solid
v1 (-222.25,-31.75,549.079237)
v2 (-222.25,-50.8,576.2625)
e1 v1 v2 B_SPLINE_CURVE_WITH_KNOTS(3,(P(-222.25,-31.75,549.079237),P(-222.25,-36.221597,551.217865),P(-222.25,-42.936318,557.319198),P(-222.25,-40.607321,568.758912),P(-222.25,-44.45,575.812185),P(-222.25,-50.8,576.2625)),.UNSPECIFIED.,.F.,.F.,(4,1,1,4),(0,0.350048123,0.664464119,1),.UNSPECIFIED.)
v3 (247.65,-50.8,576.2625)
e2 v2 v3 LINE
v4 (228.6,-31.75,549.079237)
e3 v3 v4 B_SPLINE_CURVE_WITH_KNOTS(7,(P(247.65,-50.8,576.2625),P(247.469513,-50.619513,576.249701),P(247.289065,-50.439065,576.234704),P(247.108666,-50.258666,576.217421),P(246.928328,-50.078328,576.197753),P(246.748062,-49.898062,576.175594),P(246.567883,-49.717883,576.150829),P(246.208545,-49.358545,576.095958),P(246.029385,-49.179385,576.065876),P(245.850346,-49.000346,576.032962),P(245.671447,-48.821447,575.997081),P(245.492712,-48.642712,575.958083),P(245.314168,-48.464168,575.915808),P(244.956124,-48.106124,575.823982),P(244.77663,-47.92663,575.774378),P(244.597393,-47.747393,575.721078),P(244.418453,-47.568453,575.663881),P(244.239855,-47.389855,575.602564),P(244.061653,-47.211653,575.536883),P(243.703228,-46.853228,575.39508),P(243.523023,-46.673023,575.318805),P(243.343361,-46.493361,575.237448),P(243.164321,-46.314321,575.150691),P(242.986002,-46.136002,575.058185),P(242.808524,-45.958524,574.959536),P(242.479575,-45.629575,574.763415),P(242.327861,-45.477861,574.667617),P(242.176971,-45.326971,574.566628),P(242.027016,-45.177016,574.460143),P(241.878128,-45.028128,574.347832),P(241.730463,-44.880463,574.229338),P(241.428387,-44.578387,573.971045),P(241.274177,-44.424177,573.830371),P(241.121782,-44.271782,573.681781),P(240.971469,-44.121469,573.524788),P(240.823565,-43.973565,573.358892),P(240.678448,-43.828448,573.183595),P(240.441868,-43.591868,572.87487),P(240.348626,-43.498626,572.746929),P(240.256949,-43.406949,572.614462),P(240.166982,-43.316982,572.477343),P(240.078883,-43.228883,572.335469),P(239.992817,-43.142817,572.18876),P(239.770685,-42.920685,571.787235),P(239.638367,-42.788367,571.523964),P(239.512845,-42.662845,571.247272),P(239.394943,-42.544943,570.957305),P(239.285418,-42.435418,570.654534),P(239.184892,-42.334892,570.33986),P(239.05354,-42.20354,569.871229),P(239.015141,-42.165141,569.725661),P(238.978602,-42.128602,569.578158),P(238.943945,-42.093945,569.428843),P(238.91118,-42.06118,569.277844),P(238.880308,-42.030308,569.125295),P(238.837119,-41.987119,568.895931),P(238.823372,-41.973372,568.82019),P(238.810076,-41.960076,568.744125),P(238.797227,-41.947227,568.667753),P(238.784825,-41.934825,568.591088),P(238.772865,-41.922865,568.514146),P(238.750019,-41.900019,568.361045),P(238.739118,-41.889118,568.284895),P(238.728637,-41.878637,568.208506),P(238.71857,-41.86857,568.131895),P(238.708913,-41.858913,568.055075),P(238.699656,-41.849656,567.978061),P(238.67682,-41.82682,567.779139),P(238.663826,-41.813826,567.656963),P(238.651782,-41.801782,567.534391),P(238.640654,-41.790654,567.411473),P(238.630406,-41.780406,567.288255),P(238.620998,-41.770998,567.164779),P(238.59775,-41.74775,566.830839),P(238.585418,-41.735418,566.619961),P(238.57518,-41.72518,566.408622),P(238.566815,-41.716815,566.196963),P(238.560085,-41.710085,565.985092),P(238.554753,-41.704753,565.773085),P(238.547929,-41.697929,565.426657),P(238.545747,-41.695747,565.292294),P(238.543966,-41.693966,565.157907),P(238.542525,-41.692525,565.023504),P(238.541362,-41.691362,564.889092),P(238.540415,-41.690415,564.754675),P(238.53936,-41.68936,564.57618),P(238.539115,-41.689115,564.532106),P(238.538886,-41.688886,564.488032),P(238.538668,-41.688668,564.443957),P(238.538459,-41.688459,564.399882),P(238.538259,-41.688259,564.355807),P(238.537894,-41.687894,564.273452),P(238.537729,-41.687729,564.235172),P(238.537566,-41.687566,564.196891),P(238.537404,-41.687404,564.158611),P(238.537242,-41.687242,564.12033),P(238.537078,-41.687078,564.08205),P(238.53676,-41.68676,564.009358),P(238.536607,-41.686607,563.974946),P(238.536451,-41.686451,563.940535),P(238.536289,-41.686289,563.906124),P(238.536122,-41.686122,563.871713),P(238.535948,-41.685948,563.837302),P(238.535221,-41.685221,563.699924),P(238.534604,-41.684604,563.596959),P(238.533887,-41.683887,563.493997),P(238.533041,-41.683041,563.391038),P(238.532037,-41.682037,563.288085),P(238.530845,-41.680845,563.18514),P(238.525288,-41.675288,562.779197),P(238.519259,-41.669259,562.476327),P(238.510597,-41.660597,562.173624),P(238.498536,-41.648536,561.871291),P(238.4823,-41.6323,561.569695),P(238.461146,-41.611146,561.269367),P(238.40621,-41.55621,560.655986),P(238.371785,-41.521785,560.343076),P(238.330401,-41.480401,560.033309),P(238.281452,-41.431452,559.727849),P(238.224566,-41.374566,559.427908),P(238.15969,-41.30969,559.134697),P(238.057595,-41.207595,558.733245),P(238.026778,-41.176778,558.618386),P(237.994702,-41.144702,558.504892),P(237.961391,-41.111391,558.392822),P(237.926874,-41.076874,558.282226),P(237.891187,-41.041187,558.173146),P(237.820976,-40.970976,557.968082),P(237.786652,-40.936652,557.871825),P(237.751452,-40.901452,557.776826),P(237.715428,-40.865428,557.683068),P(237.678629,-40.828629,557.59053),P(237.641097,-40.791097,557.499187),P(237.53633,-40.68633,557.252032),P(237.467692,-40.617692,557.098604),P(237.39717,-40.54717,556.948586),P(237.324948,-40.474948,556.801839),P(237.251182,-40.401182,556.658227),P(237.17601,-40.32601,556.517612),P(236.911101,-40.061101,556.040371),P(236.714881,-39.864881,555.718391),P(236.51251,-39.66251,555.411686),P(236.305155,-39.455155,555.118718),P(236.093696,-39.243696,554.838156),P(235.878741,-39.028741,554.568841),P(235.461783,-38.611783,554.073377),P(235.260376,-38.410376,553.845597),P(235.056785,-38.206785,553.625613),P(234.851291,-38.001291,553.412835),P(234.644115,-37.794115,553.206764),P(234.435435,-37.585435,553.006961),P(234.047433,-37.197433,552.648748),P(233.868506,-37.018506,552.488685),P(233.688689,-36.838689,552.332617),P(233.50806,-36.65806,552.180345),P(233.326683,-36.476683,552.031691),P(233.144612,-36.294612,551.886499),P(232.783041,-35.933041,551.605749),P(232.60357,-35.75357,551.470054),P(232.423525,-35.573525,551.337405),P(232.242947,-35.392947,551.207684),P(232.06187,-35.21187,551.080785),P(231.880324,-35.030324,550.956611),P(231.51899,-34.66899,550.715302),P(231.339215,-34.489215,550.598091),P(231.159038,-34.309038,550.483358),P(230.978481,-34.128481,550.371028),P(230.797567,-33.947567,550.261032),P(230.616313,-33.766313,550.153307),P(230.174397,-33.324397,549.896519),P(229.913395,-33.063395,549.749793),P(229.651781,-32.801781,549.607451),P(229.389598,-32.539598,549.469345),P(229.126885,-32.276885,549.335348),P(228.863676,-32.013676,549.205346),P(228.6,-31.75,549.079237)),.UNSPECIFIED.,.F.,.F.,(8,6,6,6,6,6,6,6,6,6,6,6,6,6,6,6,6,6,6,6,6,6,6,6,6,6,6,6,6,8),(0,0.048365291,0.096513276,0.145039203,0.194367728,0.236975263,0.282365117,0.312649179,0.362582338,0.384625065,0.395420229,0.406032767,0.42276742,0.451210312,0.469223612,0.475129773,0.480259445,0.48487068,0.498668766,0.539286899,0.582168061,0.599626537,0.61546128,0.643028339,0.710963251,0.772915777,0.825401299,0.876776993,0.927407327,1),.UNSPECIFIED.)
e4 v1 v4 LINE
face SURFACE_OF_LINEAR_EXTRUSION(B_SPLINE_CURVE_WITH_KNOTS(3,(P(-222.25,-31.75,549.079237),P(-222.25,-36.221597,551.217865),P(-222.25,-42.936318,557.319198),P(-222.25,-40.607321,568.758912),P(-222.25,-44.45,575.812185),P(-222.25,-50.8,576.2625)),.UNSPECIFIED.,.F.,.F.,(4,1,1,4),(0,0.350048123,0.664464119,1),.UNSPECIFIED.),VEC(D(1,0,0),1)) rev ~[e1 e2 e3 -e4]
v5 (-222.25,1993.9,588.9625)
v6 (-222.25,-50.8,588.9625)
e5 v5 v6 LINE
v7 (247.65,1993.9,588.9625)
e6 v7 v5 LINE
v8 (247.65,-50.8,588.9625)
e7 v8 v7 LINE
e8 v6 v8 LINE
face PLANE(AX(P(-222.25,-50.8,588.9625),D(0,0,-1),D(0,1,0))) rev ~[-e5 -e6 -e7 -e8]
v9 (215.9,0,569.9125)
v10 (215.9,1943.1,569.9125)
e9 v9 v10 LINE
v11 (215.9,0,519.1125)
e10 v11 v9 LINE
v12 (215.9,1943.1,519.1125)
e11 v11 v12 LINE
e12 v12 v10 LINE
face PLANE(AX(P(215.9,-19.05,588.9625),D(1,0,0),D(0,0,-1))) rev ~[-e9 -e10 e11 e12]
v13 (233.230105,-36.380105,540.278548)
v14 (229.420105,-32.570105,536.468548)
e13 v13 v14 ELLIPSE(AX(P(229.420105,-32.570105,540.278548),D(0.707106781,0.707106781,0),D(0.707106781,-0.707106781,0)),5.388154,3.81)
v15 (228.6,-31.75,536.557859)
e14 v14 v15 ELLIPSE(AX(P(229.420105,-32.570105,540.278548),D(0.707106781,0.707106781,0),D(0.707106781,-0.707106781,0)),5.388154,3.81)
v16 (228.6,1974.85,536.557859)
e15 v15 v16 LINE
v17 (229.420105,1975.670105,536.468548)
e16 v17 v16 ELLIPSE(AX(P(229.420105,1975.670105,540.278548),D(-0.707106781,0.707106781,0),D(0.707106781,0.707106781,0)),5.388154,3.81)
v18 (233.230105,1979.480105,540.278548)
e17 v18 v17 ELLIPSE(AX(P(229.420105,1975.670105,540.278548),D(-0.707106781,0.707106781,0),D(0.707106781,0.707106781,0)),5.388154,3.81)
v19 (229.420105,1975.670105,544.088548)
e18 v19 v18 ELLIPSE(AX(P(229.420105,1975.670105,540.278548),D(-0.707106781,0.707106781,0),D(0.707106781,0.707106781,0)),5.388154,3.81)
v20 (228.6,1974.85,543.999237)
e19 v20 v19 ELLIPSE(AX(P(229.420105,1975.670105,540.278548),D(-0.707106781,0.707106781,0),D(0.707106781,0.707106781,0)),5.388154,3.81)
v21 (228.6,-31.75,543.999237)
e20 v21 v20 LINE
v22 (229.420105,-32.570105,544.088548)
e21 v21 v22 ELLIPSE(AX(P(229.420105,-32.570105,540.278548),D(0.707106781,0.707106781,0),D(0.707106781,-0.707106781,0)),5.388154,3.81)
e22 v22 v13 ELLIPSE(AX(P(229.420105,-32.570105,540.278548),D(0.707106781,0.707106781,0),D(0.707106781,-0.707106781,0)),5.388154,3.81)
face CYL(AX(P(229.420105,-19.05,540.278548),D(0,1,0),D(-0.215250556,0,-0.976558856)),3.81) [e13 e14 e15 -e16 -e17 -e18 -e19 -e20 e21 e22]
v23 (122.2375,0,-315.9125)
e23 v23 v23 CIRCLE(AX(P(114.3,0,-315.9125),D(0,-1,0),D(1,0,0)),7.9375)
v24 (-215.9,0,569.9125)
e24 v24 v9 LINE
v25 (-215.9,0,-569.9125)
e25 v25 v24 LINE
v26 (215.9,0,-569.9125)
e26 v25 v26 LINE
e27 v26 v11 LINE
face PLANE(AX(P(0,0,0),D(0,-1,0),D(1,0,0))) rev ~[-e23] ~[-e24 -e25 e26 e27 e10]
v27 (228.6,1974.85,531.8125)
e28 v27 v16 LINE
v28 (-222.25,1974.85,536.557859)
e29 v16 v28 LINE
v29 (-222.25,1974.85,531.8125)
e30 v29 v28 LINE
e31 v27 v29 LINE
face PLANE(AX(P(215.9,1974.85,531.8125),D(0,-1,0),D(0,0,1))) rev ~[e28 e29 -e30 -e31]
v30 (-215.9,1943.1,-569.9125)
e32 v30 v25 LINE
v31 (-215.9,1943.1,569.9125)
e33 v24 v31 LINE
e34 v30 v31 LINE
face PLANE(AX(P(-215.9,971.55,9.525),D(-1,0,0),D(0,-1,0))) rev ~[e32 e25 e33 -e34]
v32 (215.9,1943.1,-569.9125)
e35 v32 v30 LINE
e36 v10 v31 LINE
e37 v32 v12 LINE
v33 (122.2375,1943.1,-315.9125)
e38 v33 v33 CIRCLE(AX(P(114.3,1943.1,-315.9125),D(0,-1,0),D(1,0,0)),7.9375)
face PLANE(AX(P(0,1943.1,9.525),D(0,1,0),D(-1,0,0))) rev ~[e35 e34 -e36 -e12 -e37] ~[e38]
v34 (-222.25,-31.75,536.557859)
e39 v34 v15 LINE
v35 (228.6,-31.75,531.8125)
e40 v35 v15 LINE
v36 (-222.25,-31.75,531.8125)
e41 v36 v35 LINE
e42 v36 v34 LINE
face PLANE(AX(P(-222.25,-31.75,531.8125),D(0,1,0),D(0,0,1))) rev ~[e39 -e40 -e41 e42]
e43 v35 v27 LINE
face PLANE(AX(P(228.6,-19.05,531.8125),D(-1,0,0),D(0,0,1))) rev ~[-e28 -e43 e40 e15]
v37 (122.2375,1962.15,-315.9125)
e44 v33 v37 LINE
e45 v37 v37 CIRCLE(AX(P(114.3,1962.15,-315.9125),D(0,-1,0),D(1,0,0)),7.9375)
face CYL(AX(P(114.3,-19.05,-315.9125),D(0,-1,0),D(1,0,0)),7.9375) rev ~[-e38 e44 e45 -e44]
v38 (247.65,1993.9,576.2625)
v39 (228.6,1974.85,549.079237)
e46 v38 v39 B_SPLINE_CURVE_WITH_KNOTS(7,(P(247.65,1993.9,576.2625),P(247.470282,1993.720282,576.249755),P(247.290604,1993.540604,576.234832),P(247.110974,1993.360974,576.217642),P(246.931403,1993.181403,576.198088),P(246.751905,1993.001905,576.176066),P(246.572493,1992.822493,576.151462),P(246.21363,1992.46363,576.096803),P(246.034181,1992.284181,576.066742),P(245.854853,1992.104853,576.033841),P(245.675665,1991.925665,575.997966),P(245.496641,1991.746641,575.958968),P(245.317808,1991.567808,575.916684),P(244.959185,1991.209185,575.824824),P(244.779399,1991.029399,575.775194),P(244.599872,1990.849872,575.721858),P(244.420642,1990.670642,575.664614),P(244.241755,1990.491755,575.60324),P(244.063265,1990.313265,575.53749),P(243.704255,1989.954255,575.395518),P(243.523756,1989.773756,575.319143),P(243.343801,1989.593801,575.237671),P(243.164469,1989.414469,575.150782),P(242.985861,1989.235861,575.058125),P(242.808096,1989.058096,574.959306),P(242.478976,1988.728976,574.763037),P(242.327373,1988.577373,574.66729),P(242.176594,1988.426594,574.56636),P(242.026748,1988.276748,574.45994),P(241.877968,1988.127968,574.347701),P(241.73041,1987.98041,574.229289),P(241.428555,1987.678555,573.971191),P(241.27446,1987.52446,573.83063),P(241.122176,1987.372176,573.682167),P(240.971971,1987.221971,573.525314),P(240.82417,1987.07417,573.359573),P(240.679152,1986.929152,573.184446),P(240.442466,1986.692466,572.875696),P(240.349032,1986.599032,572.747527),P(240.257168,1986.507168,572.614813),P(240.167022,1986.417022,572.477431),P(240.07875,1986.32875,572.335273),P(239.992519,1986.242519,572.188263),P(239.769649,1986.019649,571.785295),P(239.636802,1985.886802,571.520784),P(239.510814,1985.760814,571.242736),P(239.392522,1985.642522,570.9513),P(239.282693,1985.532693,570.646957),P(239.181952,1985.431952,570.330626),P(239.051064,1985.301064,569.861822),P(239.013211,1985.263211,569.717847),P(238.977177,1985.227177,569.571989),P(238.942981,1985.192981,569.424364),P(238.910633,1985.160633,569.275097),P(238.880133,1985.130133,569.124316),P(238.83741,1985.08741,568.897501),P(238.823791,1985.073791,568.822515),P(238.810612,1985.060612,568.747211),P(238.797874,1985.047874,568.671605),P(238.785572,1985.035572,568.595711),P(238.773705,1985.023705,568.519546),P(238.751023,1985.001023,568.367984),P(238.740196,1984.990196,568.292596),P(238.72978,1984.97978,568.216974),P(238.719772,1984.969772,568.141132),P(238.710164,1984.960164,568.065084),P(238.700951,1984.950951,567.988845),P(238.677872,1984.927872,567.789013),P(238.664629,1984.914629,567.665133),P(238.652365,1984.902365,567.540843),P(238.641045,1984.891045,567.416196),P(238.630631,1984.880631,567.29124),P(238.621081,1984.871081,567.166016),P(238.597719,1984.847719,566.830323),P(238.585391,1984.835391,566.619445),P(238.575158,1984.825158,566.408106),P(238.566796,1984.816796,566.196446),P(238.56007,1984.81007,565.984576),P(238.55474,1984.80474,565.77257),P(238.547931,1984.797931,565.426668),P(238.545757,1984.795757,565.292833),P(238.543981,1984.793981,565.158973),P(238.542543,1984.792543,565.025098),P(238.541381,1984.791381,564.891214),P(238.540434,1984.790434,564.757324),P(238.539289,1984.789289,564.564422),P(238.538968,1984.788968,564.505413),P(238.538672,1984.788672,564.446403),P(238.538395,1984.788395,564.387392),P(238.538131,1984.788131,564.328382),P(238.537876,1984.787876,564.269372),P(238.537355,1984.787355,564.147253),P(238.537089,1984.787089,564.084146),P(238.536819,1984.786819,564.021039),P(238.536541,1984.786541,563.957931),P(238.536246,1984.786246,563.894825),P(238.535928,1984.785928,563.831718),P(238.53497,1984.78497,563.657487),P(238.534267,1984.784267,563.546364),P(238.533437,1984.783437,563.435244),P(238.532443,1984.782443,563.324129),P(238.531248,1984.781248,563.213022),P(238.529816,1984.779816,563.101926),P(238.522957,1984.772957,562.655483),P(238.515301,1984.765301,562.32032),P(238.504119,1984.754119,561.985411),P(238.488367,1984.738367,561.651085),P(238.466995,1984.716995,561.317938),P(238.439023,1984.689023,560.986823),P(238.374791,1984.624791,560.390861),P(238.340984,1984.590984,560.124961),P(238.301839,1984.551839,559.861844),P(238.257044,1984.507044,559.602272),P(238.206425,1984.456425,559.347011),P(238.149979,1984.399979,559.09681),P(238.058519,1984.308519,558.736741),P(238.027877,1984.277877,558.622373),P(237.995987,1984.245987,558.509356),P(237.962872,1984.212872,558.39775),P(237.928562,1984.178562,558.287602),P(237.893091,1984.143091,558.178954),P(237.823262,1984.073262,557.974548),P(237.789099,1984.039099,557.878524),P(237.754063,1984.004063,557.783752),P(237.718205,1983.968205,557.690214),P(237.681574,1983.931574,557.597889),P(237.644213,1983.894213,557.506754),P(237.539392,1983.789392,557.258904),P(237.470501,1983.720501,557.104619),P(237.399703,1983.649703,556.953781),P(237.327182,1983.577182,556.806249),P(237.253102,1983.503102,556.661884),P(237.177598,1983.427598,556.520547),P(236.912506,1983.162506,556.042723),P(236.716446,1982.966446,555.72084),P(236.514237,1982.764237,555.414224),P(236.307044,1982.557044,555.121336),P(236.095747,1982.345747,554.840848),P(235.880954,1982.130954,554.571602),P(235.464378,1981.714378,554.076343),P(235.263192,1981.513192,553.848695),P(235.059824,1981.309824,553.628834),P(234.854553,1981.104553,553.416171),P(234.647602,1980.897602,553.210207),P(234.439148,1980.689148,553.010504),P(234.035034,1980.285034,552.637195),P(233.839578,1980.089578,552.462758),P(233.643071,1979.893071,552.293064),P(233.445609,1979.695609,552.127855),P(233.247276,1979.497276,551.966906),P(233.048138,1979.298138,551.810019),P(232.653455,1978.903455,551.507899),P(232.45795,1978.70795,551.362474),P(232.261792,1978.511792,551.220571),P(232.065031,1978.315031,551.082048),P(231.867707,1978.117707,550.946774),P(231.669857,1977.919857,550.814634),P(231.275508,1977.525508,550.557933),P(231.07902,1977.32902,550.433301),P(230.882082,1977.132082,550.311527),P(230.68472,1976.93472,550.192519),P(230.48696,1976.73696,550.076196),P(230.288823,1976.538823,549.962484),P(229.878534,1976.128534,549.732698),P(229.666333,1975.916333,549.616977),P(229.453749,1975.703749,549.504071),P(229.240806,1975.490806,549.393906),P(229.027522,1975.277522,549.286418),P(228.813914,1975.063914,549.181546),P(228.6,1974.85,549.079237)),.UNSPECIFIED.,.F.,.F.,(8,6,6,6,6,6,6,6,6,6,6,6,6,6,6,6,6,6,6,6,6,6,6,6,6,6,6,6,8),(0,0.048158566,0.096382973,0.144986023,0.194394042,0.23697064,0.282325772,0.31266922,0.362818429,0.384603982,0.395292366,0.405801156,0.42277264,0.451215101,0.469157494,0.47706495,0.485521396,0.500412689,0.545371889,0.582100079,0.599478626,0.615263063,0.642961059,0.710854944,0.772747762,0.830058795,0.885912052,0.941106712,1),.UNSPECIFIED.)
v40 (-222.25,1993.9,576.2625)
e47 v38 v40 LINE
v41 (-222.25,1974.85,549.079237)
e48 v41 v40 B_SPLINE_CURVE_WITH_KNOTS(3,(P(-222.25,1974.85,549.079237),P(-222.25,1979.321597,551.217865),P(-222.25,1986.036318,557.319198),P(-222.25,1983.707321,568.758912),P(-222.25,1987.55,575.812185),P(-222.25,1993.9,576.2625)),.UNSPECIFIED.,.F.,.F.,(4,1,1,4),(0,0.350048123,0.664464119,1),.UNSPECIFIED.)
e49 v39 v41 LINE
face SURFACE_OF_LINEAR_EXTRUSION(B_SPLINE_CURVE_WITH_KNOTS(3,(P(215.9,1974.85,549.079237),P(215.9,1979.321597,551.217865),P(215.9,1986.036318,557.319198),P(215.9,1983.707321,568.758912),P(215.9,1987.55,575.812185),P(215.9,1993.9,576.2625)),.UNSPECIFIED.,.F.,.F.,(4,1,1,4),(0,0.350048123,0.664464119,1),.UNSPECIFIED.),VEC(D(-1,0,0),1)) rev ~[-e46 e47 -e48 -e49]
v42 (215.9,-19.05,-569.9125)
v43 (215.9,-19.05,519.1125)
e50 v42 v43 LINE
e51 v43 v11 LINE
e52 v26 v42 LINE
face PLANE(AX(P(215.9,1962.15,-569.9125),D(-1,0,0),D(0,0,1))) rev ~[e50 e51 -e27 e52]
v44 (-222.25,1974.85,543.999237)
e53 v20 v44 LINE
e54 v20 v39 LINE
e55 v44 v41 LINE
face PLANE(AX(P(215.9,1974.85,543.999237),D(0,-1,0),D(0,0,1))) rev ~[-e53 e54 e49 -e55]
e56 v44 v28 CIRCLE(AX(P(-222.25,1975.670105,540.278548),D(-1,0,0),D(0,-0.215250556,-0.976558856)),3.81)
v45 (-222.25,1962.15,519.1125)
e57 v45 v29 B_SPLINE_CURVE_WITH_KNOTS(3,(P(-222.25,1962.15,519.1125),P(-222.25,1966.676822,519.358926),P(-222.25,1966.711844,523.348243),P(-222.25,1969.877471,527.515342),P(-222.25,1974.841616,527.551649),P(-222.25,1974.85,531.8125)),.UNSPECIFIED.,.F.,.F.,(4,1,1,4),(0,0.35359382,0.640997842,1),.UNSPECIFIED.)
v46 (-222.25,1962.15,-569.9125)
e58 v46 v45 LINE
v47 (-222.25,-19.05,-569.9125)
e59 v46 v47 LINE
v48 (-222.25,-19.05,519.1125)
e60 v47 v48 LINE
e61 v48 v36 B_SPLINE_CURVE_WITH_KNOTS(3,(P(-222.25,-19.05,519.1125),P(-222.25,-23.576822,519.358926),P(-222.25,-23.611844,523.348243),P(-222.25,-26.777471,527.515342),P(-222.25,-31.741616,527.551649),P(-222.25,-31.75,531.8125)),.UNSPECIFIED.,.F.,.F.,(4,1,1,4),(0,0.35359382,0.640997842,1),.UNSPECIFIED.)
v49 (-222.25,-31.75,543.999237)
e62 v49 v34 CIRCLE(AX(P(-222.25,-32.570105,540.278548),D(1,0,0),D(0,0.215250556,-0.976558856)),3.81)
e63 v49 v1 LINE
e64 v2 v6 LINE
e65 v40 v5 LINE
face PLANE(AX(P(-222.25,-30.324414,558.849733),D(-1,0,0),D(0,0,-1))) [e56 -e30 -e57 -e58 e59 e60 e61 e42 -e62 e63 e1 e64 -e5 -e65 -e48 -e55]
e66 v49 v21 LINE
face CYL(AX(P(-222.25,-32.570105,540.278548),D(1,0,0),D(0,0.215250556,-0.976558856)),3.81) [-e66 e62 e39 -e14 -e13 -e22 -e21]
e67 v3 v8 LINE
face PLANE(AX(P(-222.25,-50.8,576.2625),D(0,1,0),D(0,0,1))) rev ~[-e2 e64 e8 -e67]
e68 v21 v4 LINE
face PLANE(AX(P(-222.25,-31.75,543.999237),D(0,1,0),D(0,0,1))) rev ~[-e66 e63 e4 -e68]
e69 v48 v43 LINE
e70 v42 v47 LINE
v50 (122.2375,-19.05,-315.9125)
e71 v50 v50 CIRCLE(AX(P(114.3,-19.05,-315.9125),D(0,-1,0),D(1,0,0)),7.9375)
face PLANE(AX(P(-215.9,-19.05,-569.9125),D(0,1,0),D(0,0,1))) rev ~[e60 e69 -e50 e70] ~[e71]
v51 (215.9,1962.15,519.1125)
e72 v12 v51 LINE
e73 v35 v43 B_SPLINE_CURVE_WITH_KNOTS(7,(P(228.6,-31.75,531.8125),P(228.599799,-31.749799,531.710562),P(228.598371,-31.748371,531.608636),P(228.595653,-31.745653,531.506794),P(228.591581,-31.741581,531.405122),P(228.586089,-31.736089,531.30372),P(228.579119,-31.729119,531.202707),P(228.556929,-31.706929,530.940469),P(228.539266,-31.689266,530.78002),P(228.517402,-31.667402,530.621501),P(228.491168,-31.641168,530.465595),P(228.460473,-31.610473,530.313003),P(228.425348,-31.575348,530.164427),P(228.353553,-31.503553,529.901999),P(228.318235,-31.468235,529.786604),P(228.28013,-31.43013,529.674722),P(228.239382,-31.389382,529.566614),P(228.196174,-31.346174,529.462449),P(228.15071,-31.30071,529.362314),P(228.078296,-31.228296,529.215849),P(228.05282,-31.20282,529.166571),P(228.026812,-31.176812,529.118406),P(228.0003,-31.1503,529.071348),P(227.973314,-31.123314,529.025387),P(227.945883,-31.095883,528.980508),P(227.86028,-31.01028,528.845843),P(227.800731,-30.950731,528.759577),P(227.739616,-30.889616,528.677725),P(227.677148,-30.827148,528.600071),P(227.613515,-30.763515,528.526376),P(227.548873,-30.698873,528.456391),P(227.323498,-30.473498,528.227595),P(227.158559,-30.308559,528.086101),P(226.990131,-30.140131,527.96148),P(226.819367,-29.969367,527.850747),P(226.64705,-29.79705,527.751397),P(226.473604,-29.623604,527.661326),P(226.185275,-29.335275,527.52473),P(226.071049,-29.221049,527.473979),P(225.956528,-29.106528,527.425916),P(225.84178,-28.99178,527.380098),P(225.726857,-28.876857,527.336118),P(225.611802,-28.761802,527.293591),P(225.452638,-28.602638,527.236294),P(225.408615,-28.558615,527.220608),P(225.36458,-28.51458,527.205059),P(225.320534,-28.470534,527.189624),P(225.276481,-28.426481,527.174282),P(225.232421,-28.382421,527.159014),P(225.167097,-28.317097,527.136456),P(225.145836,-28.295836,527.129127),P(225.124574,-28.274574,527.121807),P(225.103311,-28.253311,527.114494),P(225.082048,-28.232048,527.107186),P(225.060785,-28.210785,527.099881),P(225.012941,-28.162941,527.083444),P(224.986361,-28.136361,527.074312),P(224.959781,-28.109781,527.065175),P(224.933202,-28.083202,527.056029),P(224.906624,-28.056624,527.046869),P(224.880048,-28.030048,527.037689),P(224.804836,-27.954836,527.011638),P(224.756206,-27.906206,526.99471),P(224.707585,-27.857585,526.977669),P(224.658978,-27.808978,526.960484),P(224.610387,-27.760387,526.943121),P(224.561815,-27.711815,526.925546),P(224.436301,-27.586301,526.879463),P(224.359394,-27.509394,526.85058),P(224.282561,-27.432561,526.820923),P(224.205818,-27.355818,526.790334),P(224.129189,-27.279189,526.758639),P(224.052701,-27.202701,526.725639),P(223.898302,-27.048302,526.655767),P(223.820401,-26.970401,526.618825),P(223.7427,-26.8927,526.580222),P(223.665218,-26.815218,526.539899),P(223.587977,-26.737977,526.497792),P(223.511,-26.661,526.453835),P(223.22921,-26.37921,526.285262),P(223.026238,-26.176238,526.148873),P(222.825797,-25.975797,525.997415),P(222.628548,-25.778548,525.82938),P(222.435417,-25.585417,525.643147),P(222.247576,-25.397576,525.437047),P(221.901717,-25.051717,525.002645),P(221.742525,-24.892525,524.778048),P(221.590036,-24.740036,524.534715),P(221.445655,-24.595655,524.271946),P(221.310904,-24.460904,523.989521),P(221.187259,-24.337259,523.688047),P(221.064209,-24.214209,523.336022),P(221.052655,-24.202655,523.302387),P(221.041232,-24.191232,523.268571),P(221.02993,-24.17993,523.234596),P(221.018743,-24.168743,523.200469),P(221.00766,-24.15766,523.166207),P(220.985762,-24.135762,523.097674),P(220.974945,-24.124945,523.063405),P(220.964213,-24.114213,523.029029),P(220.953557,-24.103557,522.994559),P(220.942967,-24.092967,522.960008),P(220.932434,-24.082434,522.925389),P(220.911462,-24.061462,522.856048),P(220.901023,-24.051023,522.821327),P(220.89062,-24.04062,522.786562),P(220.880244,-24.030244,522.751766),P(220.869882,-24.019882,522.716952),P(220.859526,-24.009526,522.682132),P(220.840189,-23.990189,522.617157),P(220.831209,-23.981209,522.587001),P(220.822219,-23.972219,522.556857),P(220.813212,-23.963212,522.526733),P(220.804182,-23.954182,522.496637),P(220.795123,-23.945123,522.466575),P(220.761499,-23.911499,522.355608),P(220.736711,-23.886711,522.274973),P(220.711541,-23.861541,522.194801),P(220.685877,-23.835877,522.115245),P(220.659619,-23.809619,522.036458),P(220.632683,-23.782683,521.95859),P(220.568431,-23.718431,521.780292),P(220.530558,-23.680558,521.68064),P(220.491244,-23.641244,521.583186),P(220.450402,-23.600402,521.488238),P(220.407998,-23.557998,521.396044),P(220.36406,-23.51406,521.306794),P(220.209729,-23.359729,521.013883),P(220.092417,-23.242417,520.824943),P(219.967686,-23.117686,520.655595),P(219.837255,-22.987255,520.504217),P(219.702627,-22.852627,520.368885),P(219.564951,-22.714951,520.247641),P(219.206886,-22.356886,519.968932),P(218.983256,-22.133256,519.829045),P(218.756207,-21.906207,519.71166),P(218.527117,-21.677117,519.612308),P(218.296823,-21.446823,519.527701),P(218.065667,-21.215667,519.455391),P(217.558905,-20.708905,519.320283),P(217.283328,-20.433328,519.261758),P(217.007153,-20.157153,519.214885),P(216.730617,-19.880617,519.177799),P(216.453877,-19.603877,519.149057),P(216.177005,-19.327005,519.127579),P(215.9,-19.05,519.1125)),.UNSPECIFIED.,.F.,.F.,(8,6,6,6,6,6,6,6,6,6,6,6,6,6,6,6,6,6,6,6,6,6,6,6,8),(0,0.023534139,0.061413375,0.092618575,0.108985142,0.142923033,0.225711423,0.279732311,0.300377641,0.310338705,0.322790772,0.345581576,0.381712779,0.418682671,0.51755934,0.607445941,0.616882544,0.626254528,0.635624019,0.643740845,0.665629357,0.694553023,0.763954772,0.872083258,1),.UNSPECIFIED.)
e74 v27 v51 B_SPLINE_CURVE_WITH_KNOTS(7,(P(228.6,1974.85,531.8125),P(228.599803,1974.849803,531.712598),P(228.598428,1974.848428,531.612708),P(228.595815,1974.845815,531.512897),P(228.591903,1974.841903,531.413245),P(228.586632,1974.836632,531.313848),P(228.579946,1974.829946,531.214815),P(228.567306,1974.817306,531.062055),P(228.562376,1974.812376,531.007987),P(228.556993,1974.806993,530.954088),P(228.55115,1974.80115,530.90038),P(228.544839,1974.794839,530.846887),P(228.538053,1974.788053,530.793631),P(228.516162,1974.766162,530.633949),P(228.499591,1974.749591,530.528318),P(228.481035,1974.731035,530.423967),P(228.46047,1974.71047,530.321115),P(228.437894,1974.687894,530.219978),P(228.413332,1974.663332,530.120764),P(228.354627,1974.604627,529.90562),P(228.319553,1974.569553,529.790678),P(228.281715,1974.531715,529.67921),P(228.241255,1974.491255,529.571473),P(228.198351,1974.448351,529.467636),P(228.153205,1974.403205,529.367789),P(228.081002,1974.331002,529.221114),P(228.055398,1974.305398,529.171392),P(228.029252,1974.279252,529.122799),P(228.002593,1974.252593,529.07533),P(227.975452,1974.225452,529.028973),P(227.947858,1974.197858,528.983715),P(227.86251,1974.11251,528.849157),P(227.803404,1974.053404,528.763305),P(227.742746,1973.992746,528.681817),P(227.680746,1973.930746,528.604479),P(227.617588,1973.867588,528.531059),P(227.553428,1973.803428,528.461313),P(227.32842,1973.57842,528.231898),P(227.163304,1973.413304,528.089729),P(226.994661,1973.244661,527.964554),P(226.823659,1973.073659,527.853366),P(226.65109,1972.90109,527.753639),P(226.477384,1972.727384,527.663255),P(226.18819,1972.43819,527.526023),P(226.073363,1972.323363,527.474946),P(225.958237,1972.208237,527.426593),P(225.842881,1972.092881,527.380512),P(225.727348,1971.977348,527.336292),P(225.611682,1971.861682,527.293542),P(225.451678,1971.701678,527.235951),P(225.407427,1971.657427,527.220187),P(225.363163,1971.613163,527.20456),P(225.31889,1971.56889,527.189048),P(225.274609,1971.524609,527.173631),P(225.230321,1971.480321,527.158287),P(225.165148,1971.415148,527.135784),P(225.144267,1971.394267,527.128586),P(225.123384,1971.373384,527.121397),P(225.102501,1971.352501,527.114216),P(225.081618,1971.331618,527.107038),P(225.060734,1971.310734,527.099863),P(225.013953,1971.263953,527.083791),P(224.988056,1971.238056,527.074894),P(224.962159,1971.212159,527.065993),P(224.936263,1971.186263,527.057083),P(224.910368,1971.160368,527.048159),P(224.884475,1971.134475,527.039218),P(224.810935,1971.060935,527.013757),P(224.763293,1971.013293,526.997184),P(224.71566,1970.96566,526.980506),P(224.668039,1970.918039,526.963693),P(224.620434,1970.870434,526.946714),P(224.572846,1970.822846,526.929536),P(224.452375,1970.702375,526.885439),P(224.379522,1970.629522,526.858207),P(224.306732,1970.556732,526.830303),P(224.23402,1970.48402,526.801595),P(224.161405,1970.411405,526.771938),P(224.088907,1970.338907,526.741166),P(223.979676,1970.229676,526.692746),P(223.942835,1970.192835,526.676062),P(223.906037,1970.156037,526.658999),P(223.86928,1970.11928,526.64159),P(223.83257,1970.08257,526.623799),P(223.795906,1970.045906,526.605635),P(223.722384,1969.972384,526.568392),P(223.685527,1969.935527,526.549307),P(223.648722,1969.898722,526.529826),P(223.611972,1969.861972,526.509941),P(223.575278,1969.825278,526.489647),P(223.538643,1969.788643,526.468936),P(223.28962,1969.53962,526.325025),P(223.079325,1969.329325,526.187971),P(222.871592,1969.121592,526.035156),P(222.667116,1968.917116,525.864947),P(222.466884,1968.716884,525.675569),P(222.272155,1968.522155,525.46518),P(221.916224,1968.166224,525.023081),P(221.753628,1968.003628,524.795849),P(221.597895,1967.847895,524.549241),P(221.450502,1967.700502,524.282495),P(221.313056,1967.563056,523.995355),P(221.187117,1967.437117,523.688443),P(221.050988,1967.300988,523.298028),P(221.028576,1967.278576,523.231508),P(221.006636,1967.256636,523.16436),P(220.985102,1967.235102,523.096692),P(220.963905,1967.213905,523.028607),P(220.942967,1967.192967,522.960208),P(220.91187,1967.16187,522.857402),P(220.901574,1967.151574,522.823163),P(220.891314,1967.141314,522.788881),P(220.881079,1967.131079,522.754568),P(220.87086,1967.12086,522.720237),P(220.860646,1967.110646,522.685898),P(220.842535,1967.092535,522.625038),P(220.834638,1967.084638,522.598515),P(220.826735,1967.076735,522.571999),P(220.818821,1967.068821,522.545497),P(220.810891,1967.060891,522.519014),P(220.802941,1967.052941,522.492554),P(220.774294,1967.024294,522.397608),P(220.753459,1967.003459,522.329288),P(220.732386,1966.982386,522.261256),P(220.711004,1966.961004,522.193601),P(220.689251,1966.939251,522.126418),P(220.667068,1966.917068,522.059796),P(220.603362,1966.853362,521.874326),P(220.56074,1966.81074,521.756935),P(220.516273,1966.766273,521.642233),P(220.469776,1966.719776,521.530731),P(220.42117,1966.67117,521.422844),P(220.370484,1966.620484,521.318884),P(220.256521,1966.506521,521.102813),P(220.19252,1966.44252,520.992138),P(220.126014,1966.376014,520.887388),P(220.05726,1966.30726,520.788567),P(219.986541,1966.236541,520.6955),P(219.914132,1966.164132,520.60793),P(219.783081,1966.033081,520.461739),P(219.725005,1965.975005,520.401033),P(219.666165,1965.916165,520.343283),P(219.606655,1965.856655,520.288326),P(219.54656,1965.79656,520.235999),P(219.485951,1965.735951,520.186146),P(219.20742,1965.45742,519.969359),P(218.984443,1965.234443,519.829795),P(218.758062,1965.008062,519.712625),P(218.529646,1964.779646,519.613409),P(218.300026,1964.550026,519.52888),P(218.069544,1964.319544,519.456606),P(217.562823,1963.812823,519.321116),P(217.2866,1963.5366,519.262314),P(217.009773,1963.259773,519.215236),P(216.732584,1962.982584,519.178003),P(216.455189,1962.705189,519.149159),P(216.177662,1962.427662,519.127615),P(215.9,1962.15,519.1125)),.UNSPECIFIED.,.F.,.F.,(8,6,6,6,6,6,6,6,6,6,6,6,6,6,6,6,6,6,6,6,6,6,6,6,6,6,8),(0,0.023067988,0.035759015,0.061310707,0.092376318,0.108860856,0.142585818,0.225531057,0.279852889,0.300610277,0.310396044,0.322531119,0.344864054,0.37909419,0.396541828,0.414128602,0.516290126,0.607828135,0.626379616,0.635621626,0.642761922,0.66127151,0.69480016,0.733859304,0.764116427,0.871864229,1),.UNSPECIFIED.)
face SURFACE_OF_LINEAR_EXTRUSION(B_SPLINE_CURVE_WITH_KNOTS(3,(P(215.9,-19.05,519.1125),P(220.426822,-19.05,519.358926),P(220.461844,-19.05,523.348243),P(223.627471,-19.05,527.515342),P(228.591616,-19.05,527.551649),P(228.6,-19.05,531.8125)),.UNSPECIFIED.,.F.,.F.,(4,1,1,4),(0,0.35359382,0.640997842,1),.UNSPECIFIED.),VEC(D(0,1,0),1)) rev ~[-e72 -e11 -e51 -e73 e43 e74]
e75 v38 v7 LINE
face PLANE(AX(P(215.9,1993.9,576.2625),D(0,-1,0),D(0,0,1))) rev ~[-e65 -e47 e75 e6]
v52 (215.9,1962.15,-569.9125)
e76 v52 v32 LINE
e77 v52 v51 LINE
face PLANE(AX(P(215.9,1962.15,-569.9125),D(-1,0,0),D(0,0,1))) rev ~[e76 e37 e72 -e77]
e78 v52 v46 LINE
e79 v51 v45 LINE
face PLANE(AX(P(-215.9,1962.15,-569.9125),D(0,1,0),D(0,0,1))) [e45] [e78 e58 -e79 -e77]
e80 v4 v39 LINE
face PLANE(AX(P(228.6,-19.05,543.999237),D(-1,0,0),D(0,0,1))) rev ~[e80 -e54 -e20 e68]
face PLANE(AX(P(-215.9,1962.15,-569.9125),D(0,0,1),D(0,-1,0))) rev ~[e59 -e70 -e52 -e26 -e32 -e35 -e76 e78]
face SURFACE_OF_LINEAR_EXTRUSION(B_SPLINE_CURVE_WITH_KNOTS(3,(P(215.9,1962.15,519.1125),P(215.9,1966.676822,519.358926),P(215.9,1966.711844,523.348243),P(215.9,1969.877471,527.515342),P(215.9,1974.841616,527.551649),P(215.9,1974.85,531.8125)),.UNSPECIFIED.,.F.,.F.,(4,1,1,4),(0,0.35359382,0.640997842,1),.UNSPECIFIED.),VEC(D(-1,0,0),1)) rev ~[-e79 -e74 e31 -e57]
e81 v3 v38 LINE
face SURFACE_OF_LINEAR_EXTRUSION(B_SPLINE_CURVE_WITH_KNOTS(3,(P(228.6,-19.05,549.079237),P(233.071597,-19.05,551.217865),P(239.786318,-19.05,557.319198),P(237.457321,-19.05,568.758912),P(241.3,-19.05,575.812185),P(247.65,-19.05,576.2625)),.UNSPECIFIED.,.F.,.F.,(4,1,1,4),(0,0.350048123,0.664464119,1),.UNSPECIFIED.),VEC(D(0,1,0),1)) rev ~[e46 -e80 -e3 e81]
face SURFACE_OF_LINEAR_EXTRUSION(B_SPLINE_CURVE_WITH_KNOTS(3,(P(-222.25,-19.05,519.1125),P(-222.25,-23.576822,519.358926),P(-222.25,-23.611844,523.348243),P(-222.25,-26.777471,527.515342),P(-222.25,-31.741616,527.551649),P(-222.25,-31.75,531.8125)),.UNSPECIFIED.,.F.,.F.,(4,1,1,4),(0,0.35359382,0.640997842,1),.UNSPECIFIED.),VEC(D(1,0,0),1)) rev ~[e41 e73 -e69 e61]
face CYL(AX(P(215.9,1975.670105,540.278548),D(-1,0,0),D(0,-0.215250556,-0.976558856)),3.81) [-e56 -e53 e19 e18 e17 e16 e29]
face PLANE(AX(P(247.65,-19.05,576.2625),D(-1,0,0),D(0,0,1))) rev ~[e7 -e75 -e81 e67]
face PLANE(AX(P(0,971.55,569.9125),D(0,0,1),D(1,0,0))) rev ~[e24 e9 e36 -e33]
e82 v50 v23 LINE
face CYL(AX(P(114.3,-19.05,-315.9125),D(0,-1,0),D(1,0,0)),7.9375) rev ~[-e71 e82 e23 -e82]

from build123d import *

# Parameters (mm, degrees)
F0_W     = 431.8
F0_H     = 1139.825
F1_DEPTH = 19.05
F2_W     = 431.8
F2_H     = 1981.2
F3_DEPTH = 19.05
F4_W     = 431.8
F4_H     = 1158.875
F5_DEPTH = 19.05
F6_W     = 1981.2
F6_H     = 1158.875
F7_DEPTH = 6.35
F8_R     = 7.9375
F9_DEPTH = 1981.201


with BuildPart() as f1:
    # F0 (on Front) → F1 (new body)
    with BuildSketch(Plane.XZ):
        Rectangle(F0_W, F0_H)
    extrude(amount=F1_DEPTH)

    # F2 (on face) → F3 (join)
    with BuildSketch(Plane.XY.offset(569.9125)):
        with Locations((0, 971.55)):
            Rectangle(F2_W, F2_H)
    extrude(amount=F3_DEPTH)

    # F4 (on face) → F5 (join)
    with BuildSketch(Plane(origin=(0, 1962.15, 0), x_dir=(-1, 0, 0), z_dir=(0, 1, 0))):
        with Locations((0, 9.525)):
            Rectangle(F4_W, F4_H)
    extrude(amount=-F5_DEPTH)

    # F6 (on face) → F7 (join)
    with BuildSketch(Plane(origin=(-215.9, 0, 0), x_dir=(0, -1, 0), z_dir=(-1, 0, 0))):
        with Locations((-971.55, 9.525)):
            Rectangle(F6_W, F6_H)
    extrude(amount=F7_DEPTH)

    # F8 (on face) → F9 (cut, through all)
    with BuildSketch(Plane.XZ.offset(19.05)):
        with Locations((114.3, -315.9125)):
            Circle(F8_R)
    extrude(amount=-F9_DEPTH, mode=Mode.SUBTRACT)

    # F11: sweep along a path in F11_path
    with BuildLine(Plane(origin=(-222.25, -19.05, 588.9625), x_dir=(0, -1, 0), z_dir=(0, 0, -1))) as f11_path:
        Line((0, 0), (0, -438.15))
        Line((0, -438.15), (-1981.2, -438.15))
        Line((-1981.2, -438.15), (-1981.2, 0))
    # F10 (on face) → F11 (sweep)
    with BuildSketch(Plane(origin=(-222.25, 0, 0), x_dir=(0, -1, 0), z_dir=(-1, 0, 0))):
        with BuildLine():
            Line((50.8, 588.9625), (19.05, 588.9625))
            Line((19.05, 588.9625), (19.05, 519.1125))
            add(Edge.make_bspline(
                [(31.75, 531.8125), (31.7416161237, 527.5516487415), (26.7774713092, 527.5153415694), (23.6118440023, 523.3482432431), (23.5768222515, 519.3589263007), (19.05, 519.1125)],
                knots=[0, 0, 0, 0, 0.3590021576, 0.6464061804, 1, 1, 1, 1], degree=3))
            Line((31.75, 531.8125), (31.75, 536.5578590012))
            ThreePointArc((31.75, 536.5578590012), (36.3801046171, 540.2785482407), (31.75, 543.9992374802))
            Line((31.75, 543.9992374802), (31.75, 549.0792374802))
            add(Edge.make_bspline(
                [(50.8, 576.2625), (44.45, 575.8121847948), (40.607321351, 568.7589123857), (42.9363183206, 557.3191982676), (36.2215965457, 551.217864811), (31.75, 549.0792374802)],
                knots=[0, 0, 0, 0, 0.3355358805, 0.6499518775, 1, 1, 1, 1], degree=3))
            Line((50.8, 576.2625), (50.8, 588.9625))
        make_face()
    sweep(path=f11_path.line, transition=Transition.RIGHT)


solid = f1.part
